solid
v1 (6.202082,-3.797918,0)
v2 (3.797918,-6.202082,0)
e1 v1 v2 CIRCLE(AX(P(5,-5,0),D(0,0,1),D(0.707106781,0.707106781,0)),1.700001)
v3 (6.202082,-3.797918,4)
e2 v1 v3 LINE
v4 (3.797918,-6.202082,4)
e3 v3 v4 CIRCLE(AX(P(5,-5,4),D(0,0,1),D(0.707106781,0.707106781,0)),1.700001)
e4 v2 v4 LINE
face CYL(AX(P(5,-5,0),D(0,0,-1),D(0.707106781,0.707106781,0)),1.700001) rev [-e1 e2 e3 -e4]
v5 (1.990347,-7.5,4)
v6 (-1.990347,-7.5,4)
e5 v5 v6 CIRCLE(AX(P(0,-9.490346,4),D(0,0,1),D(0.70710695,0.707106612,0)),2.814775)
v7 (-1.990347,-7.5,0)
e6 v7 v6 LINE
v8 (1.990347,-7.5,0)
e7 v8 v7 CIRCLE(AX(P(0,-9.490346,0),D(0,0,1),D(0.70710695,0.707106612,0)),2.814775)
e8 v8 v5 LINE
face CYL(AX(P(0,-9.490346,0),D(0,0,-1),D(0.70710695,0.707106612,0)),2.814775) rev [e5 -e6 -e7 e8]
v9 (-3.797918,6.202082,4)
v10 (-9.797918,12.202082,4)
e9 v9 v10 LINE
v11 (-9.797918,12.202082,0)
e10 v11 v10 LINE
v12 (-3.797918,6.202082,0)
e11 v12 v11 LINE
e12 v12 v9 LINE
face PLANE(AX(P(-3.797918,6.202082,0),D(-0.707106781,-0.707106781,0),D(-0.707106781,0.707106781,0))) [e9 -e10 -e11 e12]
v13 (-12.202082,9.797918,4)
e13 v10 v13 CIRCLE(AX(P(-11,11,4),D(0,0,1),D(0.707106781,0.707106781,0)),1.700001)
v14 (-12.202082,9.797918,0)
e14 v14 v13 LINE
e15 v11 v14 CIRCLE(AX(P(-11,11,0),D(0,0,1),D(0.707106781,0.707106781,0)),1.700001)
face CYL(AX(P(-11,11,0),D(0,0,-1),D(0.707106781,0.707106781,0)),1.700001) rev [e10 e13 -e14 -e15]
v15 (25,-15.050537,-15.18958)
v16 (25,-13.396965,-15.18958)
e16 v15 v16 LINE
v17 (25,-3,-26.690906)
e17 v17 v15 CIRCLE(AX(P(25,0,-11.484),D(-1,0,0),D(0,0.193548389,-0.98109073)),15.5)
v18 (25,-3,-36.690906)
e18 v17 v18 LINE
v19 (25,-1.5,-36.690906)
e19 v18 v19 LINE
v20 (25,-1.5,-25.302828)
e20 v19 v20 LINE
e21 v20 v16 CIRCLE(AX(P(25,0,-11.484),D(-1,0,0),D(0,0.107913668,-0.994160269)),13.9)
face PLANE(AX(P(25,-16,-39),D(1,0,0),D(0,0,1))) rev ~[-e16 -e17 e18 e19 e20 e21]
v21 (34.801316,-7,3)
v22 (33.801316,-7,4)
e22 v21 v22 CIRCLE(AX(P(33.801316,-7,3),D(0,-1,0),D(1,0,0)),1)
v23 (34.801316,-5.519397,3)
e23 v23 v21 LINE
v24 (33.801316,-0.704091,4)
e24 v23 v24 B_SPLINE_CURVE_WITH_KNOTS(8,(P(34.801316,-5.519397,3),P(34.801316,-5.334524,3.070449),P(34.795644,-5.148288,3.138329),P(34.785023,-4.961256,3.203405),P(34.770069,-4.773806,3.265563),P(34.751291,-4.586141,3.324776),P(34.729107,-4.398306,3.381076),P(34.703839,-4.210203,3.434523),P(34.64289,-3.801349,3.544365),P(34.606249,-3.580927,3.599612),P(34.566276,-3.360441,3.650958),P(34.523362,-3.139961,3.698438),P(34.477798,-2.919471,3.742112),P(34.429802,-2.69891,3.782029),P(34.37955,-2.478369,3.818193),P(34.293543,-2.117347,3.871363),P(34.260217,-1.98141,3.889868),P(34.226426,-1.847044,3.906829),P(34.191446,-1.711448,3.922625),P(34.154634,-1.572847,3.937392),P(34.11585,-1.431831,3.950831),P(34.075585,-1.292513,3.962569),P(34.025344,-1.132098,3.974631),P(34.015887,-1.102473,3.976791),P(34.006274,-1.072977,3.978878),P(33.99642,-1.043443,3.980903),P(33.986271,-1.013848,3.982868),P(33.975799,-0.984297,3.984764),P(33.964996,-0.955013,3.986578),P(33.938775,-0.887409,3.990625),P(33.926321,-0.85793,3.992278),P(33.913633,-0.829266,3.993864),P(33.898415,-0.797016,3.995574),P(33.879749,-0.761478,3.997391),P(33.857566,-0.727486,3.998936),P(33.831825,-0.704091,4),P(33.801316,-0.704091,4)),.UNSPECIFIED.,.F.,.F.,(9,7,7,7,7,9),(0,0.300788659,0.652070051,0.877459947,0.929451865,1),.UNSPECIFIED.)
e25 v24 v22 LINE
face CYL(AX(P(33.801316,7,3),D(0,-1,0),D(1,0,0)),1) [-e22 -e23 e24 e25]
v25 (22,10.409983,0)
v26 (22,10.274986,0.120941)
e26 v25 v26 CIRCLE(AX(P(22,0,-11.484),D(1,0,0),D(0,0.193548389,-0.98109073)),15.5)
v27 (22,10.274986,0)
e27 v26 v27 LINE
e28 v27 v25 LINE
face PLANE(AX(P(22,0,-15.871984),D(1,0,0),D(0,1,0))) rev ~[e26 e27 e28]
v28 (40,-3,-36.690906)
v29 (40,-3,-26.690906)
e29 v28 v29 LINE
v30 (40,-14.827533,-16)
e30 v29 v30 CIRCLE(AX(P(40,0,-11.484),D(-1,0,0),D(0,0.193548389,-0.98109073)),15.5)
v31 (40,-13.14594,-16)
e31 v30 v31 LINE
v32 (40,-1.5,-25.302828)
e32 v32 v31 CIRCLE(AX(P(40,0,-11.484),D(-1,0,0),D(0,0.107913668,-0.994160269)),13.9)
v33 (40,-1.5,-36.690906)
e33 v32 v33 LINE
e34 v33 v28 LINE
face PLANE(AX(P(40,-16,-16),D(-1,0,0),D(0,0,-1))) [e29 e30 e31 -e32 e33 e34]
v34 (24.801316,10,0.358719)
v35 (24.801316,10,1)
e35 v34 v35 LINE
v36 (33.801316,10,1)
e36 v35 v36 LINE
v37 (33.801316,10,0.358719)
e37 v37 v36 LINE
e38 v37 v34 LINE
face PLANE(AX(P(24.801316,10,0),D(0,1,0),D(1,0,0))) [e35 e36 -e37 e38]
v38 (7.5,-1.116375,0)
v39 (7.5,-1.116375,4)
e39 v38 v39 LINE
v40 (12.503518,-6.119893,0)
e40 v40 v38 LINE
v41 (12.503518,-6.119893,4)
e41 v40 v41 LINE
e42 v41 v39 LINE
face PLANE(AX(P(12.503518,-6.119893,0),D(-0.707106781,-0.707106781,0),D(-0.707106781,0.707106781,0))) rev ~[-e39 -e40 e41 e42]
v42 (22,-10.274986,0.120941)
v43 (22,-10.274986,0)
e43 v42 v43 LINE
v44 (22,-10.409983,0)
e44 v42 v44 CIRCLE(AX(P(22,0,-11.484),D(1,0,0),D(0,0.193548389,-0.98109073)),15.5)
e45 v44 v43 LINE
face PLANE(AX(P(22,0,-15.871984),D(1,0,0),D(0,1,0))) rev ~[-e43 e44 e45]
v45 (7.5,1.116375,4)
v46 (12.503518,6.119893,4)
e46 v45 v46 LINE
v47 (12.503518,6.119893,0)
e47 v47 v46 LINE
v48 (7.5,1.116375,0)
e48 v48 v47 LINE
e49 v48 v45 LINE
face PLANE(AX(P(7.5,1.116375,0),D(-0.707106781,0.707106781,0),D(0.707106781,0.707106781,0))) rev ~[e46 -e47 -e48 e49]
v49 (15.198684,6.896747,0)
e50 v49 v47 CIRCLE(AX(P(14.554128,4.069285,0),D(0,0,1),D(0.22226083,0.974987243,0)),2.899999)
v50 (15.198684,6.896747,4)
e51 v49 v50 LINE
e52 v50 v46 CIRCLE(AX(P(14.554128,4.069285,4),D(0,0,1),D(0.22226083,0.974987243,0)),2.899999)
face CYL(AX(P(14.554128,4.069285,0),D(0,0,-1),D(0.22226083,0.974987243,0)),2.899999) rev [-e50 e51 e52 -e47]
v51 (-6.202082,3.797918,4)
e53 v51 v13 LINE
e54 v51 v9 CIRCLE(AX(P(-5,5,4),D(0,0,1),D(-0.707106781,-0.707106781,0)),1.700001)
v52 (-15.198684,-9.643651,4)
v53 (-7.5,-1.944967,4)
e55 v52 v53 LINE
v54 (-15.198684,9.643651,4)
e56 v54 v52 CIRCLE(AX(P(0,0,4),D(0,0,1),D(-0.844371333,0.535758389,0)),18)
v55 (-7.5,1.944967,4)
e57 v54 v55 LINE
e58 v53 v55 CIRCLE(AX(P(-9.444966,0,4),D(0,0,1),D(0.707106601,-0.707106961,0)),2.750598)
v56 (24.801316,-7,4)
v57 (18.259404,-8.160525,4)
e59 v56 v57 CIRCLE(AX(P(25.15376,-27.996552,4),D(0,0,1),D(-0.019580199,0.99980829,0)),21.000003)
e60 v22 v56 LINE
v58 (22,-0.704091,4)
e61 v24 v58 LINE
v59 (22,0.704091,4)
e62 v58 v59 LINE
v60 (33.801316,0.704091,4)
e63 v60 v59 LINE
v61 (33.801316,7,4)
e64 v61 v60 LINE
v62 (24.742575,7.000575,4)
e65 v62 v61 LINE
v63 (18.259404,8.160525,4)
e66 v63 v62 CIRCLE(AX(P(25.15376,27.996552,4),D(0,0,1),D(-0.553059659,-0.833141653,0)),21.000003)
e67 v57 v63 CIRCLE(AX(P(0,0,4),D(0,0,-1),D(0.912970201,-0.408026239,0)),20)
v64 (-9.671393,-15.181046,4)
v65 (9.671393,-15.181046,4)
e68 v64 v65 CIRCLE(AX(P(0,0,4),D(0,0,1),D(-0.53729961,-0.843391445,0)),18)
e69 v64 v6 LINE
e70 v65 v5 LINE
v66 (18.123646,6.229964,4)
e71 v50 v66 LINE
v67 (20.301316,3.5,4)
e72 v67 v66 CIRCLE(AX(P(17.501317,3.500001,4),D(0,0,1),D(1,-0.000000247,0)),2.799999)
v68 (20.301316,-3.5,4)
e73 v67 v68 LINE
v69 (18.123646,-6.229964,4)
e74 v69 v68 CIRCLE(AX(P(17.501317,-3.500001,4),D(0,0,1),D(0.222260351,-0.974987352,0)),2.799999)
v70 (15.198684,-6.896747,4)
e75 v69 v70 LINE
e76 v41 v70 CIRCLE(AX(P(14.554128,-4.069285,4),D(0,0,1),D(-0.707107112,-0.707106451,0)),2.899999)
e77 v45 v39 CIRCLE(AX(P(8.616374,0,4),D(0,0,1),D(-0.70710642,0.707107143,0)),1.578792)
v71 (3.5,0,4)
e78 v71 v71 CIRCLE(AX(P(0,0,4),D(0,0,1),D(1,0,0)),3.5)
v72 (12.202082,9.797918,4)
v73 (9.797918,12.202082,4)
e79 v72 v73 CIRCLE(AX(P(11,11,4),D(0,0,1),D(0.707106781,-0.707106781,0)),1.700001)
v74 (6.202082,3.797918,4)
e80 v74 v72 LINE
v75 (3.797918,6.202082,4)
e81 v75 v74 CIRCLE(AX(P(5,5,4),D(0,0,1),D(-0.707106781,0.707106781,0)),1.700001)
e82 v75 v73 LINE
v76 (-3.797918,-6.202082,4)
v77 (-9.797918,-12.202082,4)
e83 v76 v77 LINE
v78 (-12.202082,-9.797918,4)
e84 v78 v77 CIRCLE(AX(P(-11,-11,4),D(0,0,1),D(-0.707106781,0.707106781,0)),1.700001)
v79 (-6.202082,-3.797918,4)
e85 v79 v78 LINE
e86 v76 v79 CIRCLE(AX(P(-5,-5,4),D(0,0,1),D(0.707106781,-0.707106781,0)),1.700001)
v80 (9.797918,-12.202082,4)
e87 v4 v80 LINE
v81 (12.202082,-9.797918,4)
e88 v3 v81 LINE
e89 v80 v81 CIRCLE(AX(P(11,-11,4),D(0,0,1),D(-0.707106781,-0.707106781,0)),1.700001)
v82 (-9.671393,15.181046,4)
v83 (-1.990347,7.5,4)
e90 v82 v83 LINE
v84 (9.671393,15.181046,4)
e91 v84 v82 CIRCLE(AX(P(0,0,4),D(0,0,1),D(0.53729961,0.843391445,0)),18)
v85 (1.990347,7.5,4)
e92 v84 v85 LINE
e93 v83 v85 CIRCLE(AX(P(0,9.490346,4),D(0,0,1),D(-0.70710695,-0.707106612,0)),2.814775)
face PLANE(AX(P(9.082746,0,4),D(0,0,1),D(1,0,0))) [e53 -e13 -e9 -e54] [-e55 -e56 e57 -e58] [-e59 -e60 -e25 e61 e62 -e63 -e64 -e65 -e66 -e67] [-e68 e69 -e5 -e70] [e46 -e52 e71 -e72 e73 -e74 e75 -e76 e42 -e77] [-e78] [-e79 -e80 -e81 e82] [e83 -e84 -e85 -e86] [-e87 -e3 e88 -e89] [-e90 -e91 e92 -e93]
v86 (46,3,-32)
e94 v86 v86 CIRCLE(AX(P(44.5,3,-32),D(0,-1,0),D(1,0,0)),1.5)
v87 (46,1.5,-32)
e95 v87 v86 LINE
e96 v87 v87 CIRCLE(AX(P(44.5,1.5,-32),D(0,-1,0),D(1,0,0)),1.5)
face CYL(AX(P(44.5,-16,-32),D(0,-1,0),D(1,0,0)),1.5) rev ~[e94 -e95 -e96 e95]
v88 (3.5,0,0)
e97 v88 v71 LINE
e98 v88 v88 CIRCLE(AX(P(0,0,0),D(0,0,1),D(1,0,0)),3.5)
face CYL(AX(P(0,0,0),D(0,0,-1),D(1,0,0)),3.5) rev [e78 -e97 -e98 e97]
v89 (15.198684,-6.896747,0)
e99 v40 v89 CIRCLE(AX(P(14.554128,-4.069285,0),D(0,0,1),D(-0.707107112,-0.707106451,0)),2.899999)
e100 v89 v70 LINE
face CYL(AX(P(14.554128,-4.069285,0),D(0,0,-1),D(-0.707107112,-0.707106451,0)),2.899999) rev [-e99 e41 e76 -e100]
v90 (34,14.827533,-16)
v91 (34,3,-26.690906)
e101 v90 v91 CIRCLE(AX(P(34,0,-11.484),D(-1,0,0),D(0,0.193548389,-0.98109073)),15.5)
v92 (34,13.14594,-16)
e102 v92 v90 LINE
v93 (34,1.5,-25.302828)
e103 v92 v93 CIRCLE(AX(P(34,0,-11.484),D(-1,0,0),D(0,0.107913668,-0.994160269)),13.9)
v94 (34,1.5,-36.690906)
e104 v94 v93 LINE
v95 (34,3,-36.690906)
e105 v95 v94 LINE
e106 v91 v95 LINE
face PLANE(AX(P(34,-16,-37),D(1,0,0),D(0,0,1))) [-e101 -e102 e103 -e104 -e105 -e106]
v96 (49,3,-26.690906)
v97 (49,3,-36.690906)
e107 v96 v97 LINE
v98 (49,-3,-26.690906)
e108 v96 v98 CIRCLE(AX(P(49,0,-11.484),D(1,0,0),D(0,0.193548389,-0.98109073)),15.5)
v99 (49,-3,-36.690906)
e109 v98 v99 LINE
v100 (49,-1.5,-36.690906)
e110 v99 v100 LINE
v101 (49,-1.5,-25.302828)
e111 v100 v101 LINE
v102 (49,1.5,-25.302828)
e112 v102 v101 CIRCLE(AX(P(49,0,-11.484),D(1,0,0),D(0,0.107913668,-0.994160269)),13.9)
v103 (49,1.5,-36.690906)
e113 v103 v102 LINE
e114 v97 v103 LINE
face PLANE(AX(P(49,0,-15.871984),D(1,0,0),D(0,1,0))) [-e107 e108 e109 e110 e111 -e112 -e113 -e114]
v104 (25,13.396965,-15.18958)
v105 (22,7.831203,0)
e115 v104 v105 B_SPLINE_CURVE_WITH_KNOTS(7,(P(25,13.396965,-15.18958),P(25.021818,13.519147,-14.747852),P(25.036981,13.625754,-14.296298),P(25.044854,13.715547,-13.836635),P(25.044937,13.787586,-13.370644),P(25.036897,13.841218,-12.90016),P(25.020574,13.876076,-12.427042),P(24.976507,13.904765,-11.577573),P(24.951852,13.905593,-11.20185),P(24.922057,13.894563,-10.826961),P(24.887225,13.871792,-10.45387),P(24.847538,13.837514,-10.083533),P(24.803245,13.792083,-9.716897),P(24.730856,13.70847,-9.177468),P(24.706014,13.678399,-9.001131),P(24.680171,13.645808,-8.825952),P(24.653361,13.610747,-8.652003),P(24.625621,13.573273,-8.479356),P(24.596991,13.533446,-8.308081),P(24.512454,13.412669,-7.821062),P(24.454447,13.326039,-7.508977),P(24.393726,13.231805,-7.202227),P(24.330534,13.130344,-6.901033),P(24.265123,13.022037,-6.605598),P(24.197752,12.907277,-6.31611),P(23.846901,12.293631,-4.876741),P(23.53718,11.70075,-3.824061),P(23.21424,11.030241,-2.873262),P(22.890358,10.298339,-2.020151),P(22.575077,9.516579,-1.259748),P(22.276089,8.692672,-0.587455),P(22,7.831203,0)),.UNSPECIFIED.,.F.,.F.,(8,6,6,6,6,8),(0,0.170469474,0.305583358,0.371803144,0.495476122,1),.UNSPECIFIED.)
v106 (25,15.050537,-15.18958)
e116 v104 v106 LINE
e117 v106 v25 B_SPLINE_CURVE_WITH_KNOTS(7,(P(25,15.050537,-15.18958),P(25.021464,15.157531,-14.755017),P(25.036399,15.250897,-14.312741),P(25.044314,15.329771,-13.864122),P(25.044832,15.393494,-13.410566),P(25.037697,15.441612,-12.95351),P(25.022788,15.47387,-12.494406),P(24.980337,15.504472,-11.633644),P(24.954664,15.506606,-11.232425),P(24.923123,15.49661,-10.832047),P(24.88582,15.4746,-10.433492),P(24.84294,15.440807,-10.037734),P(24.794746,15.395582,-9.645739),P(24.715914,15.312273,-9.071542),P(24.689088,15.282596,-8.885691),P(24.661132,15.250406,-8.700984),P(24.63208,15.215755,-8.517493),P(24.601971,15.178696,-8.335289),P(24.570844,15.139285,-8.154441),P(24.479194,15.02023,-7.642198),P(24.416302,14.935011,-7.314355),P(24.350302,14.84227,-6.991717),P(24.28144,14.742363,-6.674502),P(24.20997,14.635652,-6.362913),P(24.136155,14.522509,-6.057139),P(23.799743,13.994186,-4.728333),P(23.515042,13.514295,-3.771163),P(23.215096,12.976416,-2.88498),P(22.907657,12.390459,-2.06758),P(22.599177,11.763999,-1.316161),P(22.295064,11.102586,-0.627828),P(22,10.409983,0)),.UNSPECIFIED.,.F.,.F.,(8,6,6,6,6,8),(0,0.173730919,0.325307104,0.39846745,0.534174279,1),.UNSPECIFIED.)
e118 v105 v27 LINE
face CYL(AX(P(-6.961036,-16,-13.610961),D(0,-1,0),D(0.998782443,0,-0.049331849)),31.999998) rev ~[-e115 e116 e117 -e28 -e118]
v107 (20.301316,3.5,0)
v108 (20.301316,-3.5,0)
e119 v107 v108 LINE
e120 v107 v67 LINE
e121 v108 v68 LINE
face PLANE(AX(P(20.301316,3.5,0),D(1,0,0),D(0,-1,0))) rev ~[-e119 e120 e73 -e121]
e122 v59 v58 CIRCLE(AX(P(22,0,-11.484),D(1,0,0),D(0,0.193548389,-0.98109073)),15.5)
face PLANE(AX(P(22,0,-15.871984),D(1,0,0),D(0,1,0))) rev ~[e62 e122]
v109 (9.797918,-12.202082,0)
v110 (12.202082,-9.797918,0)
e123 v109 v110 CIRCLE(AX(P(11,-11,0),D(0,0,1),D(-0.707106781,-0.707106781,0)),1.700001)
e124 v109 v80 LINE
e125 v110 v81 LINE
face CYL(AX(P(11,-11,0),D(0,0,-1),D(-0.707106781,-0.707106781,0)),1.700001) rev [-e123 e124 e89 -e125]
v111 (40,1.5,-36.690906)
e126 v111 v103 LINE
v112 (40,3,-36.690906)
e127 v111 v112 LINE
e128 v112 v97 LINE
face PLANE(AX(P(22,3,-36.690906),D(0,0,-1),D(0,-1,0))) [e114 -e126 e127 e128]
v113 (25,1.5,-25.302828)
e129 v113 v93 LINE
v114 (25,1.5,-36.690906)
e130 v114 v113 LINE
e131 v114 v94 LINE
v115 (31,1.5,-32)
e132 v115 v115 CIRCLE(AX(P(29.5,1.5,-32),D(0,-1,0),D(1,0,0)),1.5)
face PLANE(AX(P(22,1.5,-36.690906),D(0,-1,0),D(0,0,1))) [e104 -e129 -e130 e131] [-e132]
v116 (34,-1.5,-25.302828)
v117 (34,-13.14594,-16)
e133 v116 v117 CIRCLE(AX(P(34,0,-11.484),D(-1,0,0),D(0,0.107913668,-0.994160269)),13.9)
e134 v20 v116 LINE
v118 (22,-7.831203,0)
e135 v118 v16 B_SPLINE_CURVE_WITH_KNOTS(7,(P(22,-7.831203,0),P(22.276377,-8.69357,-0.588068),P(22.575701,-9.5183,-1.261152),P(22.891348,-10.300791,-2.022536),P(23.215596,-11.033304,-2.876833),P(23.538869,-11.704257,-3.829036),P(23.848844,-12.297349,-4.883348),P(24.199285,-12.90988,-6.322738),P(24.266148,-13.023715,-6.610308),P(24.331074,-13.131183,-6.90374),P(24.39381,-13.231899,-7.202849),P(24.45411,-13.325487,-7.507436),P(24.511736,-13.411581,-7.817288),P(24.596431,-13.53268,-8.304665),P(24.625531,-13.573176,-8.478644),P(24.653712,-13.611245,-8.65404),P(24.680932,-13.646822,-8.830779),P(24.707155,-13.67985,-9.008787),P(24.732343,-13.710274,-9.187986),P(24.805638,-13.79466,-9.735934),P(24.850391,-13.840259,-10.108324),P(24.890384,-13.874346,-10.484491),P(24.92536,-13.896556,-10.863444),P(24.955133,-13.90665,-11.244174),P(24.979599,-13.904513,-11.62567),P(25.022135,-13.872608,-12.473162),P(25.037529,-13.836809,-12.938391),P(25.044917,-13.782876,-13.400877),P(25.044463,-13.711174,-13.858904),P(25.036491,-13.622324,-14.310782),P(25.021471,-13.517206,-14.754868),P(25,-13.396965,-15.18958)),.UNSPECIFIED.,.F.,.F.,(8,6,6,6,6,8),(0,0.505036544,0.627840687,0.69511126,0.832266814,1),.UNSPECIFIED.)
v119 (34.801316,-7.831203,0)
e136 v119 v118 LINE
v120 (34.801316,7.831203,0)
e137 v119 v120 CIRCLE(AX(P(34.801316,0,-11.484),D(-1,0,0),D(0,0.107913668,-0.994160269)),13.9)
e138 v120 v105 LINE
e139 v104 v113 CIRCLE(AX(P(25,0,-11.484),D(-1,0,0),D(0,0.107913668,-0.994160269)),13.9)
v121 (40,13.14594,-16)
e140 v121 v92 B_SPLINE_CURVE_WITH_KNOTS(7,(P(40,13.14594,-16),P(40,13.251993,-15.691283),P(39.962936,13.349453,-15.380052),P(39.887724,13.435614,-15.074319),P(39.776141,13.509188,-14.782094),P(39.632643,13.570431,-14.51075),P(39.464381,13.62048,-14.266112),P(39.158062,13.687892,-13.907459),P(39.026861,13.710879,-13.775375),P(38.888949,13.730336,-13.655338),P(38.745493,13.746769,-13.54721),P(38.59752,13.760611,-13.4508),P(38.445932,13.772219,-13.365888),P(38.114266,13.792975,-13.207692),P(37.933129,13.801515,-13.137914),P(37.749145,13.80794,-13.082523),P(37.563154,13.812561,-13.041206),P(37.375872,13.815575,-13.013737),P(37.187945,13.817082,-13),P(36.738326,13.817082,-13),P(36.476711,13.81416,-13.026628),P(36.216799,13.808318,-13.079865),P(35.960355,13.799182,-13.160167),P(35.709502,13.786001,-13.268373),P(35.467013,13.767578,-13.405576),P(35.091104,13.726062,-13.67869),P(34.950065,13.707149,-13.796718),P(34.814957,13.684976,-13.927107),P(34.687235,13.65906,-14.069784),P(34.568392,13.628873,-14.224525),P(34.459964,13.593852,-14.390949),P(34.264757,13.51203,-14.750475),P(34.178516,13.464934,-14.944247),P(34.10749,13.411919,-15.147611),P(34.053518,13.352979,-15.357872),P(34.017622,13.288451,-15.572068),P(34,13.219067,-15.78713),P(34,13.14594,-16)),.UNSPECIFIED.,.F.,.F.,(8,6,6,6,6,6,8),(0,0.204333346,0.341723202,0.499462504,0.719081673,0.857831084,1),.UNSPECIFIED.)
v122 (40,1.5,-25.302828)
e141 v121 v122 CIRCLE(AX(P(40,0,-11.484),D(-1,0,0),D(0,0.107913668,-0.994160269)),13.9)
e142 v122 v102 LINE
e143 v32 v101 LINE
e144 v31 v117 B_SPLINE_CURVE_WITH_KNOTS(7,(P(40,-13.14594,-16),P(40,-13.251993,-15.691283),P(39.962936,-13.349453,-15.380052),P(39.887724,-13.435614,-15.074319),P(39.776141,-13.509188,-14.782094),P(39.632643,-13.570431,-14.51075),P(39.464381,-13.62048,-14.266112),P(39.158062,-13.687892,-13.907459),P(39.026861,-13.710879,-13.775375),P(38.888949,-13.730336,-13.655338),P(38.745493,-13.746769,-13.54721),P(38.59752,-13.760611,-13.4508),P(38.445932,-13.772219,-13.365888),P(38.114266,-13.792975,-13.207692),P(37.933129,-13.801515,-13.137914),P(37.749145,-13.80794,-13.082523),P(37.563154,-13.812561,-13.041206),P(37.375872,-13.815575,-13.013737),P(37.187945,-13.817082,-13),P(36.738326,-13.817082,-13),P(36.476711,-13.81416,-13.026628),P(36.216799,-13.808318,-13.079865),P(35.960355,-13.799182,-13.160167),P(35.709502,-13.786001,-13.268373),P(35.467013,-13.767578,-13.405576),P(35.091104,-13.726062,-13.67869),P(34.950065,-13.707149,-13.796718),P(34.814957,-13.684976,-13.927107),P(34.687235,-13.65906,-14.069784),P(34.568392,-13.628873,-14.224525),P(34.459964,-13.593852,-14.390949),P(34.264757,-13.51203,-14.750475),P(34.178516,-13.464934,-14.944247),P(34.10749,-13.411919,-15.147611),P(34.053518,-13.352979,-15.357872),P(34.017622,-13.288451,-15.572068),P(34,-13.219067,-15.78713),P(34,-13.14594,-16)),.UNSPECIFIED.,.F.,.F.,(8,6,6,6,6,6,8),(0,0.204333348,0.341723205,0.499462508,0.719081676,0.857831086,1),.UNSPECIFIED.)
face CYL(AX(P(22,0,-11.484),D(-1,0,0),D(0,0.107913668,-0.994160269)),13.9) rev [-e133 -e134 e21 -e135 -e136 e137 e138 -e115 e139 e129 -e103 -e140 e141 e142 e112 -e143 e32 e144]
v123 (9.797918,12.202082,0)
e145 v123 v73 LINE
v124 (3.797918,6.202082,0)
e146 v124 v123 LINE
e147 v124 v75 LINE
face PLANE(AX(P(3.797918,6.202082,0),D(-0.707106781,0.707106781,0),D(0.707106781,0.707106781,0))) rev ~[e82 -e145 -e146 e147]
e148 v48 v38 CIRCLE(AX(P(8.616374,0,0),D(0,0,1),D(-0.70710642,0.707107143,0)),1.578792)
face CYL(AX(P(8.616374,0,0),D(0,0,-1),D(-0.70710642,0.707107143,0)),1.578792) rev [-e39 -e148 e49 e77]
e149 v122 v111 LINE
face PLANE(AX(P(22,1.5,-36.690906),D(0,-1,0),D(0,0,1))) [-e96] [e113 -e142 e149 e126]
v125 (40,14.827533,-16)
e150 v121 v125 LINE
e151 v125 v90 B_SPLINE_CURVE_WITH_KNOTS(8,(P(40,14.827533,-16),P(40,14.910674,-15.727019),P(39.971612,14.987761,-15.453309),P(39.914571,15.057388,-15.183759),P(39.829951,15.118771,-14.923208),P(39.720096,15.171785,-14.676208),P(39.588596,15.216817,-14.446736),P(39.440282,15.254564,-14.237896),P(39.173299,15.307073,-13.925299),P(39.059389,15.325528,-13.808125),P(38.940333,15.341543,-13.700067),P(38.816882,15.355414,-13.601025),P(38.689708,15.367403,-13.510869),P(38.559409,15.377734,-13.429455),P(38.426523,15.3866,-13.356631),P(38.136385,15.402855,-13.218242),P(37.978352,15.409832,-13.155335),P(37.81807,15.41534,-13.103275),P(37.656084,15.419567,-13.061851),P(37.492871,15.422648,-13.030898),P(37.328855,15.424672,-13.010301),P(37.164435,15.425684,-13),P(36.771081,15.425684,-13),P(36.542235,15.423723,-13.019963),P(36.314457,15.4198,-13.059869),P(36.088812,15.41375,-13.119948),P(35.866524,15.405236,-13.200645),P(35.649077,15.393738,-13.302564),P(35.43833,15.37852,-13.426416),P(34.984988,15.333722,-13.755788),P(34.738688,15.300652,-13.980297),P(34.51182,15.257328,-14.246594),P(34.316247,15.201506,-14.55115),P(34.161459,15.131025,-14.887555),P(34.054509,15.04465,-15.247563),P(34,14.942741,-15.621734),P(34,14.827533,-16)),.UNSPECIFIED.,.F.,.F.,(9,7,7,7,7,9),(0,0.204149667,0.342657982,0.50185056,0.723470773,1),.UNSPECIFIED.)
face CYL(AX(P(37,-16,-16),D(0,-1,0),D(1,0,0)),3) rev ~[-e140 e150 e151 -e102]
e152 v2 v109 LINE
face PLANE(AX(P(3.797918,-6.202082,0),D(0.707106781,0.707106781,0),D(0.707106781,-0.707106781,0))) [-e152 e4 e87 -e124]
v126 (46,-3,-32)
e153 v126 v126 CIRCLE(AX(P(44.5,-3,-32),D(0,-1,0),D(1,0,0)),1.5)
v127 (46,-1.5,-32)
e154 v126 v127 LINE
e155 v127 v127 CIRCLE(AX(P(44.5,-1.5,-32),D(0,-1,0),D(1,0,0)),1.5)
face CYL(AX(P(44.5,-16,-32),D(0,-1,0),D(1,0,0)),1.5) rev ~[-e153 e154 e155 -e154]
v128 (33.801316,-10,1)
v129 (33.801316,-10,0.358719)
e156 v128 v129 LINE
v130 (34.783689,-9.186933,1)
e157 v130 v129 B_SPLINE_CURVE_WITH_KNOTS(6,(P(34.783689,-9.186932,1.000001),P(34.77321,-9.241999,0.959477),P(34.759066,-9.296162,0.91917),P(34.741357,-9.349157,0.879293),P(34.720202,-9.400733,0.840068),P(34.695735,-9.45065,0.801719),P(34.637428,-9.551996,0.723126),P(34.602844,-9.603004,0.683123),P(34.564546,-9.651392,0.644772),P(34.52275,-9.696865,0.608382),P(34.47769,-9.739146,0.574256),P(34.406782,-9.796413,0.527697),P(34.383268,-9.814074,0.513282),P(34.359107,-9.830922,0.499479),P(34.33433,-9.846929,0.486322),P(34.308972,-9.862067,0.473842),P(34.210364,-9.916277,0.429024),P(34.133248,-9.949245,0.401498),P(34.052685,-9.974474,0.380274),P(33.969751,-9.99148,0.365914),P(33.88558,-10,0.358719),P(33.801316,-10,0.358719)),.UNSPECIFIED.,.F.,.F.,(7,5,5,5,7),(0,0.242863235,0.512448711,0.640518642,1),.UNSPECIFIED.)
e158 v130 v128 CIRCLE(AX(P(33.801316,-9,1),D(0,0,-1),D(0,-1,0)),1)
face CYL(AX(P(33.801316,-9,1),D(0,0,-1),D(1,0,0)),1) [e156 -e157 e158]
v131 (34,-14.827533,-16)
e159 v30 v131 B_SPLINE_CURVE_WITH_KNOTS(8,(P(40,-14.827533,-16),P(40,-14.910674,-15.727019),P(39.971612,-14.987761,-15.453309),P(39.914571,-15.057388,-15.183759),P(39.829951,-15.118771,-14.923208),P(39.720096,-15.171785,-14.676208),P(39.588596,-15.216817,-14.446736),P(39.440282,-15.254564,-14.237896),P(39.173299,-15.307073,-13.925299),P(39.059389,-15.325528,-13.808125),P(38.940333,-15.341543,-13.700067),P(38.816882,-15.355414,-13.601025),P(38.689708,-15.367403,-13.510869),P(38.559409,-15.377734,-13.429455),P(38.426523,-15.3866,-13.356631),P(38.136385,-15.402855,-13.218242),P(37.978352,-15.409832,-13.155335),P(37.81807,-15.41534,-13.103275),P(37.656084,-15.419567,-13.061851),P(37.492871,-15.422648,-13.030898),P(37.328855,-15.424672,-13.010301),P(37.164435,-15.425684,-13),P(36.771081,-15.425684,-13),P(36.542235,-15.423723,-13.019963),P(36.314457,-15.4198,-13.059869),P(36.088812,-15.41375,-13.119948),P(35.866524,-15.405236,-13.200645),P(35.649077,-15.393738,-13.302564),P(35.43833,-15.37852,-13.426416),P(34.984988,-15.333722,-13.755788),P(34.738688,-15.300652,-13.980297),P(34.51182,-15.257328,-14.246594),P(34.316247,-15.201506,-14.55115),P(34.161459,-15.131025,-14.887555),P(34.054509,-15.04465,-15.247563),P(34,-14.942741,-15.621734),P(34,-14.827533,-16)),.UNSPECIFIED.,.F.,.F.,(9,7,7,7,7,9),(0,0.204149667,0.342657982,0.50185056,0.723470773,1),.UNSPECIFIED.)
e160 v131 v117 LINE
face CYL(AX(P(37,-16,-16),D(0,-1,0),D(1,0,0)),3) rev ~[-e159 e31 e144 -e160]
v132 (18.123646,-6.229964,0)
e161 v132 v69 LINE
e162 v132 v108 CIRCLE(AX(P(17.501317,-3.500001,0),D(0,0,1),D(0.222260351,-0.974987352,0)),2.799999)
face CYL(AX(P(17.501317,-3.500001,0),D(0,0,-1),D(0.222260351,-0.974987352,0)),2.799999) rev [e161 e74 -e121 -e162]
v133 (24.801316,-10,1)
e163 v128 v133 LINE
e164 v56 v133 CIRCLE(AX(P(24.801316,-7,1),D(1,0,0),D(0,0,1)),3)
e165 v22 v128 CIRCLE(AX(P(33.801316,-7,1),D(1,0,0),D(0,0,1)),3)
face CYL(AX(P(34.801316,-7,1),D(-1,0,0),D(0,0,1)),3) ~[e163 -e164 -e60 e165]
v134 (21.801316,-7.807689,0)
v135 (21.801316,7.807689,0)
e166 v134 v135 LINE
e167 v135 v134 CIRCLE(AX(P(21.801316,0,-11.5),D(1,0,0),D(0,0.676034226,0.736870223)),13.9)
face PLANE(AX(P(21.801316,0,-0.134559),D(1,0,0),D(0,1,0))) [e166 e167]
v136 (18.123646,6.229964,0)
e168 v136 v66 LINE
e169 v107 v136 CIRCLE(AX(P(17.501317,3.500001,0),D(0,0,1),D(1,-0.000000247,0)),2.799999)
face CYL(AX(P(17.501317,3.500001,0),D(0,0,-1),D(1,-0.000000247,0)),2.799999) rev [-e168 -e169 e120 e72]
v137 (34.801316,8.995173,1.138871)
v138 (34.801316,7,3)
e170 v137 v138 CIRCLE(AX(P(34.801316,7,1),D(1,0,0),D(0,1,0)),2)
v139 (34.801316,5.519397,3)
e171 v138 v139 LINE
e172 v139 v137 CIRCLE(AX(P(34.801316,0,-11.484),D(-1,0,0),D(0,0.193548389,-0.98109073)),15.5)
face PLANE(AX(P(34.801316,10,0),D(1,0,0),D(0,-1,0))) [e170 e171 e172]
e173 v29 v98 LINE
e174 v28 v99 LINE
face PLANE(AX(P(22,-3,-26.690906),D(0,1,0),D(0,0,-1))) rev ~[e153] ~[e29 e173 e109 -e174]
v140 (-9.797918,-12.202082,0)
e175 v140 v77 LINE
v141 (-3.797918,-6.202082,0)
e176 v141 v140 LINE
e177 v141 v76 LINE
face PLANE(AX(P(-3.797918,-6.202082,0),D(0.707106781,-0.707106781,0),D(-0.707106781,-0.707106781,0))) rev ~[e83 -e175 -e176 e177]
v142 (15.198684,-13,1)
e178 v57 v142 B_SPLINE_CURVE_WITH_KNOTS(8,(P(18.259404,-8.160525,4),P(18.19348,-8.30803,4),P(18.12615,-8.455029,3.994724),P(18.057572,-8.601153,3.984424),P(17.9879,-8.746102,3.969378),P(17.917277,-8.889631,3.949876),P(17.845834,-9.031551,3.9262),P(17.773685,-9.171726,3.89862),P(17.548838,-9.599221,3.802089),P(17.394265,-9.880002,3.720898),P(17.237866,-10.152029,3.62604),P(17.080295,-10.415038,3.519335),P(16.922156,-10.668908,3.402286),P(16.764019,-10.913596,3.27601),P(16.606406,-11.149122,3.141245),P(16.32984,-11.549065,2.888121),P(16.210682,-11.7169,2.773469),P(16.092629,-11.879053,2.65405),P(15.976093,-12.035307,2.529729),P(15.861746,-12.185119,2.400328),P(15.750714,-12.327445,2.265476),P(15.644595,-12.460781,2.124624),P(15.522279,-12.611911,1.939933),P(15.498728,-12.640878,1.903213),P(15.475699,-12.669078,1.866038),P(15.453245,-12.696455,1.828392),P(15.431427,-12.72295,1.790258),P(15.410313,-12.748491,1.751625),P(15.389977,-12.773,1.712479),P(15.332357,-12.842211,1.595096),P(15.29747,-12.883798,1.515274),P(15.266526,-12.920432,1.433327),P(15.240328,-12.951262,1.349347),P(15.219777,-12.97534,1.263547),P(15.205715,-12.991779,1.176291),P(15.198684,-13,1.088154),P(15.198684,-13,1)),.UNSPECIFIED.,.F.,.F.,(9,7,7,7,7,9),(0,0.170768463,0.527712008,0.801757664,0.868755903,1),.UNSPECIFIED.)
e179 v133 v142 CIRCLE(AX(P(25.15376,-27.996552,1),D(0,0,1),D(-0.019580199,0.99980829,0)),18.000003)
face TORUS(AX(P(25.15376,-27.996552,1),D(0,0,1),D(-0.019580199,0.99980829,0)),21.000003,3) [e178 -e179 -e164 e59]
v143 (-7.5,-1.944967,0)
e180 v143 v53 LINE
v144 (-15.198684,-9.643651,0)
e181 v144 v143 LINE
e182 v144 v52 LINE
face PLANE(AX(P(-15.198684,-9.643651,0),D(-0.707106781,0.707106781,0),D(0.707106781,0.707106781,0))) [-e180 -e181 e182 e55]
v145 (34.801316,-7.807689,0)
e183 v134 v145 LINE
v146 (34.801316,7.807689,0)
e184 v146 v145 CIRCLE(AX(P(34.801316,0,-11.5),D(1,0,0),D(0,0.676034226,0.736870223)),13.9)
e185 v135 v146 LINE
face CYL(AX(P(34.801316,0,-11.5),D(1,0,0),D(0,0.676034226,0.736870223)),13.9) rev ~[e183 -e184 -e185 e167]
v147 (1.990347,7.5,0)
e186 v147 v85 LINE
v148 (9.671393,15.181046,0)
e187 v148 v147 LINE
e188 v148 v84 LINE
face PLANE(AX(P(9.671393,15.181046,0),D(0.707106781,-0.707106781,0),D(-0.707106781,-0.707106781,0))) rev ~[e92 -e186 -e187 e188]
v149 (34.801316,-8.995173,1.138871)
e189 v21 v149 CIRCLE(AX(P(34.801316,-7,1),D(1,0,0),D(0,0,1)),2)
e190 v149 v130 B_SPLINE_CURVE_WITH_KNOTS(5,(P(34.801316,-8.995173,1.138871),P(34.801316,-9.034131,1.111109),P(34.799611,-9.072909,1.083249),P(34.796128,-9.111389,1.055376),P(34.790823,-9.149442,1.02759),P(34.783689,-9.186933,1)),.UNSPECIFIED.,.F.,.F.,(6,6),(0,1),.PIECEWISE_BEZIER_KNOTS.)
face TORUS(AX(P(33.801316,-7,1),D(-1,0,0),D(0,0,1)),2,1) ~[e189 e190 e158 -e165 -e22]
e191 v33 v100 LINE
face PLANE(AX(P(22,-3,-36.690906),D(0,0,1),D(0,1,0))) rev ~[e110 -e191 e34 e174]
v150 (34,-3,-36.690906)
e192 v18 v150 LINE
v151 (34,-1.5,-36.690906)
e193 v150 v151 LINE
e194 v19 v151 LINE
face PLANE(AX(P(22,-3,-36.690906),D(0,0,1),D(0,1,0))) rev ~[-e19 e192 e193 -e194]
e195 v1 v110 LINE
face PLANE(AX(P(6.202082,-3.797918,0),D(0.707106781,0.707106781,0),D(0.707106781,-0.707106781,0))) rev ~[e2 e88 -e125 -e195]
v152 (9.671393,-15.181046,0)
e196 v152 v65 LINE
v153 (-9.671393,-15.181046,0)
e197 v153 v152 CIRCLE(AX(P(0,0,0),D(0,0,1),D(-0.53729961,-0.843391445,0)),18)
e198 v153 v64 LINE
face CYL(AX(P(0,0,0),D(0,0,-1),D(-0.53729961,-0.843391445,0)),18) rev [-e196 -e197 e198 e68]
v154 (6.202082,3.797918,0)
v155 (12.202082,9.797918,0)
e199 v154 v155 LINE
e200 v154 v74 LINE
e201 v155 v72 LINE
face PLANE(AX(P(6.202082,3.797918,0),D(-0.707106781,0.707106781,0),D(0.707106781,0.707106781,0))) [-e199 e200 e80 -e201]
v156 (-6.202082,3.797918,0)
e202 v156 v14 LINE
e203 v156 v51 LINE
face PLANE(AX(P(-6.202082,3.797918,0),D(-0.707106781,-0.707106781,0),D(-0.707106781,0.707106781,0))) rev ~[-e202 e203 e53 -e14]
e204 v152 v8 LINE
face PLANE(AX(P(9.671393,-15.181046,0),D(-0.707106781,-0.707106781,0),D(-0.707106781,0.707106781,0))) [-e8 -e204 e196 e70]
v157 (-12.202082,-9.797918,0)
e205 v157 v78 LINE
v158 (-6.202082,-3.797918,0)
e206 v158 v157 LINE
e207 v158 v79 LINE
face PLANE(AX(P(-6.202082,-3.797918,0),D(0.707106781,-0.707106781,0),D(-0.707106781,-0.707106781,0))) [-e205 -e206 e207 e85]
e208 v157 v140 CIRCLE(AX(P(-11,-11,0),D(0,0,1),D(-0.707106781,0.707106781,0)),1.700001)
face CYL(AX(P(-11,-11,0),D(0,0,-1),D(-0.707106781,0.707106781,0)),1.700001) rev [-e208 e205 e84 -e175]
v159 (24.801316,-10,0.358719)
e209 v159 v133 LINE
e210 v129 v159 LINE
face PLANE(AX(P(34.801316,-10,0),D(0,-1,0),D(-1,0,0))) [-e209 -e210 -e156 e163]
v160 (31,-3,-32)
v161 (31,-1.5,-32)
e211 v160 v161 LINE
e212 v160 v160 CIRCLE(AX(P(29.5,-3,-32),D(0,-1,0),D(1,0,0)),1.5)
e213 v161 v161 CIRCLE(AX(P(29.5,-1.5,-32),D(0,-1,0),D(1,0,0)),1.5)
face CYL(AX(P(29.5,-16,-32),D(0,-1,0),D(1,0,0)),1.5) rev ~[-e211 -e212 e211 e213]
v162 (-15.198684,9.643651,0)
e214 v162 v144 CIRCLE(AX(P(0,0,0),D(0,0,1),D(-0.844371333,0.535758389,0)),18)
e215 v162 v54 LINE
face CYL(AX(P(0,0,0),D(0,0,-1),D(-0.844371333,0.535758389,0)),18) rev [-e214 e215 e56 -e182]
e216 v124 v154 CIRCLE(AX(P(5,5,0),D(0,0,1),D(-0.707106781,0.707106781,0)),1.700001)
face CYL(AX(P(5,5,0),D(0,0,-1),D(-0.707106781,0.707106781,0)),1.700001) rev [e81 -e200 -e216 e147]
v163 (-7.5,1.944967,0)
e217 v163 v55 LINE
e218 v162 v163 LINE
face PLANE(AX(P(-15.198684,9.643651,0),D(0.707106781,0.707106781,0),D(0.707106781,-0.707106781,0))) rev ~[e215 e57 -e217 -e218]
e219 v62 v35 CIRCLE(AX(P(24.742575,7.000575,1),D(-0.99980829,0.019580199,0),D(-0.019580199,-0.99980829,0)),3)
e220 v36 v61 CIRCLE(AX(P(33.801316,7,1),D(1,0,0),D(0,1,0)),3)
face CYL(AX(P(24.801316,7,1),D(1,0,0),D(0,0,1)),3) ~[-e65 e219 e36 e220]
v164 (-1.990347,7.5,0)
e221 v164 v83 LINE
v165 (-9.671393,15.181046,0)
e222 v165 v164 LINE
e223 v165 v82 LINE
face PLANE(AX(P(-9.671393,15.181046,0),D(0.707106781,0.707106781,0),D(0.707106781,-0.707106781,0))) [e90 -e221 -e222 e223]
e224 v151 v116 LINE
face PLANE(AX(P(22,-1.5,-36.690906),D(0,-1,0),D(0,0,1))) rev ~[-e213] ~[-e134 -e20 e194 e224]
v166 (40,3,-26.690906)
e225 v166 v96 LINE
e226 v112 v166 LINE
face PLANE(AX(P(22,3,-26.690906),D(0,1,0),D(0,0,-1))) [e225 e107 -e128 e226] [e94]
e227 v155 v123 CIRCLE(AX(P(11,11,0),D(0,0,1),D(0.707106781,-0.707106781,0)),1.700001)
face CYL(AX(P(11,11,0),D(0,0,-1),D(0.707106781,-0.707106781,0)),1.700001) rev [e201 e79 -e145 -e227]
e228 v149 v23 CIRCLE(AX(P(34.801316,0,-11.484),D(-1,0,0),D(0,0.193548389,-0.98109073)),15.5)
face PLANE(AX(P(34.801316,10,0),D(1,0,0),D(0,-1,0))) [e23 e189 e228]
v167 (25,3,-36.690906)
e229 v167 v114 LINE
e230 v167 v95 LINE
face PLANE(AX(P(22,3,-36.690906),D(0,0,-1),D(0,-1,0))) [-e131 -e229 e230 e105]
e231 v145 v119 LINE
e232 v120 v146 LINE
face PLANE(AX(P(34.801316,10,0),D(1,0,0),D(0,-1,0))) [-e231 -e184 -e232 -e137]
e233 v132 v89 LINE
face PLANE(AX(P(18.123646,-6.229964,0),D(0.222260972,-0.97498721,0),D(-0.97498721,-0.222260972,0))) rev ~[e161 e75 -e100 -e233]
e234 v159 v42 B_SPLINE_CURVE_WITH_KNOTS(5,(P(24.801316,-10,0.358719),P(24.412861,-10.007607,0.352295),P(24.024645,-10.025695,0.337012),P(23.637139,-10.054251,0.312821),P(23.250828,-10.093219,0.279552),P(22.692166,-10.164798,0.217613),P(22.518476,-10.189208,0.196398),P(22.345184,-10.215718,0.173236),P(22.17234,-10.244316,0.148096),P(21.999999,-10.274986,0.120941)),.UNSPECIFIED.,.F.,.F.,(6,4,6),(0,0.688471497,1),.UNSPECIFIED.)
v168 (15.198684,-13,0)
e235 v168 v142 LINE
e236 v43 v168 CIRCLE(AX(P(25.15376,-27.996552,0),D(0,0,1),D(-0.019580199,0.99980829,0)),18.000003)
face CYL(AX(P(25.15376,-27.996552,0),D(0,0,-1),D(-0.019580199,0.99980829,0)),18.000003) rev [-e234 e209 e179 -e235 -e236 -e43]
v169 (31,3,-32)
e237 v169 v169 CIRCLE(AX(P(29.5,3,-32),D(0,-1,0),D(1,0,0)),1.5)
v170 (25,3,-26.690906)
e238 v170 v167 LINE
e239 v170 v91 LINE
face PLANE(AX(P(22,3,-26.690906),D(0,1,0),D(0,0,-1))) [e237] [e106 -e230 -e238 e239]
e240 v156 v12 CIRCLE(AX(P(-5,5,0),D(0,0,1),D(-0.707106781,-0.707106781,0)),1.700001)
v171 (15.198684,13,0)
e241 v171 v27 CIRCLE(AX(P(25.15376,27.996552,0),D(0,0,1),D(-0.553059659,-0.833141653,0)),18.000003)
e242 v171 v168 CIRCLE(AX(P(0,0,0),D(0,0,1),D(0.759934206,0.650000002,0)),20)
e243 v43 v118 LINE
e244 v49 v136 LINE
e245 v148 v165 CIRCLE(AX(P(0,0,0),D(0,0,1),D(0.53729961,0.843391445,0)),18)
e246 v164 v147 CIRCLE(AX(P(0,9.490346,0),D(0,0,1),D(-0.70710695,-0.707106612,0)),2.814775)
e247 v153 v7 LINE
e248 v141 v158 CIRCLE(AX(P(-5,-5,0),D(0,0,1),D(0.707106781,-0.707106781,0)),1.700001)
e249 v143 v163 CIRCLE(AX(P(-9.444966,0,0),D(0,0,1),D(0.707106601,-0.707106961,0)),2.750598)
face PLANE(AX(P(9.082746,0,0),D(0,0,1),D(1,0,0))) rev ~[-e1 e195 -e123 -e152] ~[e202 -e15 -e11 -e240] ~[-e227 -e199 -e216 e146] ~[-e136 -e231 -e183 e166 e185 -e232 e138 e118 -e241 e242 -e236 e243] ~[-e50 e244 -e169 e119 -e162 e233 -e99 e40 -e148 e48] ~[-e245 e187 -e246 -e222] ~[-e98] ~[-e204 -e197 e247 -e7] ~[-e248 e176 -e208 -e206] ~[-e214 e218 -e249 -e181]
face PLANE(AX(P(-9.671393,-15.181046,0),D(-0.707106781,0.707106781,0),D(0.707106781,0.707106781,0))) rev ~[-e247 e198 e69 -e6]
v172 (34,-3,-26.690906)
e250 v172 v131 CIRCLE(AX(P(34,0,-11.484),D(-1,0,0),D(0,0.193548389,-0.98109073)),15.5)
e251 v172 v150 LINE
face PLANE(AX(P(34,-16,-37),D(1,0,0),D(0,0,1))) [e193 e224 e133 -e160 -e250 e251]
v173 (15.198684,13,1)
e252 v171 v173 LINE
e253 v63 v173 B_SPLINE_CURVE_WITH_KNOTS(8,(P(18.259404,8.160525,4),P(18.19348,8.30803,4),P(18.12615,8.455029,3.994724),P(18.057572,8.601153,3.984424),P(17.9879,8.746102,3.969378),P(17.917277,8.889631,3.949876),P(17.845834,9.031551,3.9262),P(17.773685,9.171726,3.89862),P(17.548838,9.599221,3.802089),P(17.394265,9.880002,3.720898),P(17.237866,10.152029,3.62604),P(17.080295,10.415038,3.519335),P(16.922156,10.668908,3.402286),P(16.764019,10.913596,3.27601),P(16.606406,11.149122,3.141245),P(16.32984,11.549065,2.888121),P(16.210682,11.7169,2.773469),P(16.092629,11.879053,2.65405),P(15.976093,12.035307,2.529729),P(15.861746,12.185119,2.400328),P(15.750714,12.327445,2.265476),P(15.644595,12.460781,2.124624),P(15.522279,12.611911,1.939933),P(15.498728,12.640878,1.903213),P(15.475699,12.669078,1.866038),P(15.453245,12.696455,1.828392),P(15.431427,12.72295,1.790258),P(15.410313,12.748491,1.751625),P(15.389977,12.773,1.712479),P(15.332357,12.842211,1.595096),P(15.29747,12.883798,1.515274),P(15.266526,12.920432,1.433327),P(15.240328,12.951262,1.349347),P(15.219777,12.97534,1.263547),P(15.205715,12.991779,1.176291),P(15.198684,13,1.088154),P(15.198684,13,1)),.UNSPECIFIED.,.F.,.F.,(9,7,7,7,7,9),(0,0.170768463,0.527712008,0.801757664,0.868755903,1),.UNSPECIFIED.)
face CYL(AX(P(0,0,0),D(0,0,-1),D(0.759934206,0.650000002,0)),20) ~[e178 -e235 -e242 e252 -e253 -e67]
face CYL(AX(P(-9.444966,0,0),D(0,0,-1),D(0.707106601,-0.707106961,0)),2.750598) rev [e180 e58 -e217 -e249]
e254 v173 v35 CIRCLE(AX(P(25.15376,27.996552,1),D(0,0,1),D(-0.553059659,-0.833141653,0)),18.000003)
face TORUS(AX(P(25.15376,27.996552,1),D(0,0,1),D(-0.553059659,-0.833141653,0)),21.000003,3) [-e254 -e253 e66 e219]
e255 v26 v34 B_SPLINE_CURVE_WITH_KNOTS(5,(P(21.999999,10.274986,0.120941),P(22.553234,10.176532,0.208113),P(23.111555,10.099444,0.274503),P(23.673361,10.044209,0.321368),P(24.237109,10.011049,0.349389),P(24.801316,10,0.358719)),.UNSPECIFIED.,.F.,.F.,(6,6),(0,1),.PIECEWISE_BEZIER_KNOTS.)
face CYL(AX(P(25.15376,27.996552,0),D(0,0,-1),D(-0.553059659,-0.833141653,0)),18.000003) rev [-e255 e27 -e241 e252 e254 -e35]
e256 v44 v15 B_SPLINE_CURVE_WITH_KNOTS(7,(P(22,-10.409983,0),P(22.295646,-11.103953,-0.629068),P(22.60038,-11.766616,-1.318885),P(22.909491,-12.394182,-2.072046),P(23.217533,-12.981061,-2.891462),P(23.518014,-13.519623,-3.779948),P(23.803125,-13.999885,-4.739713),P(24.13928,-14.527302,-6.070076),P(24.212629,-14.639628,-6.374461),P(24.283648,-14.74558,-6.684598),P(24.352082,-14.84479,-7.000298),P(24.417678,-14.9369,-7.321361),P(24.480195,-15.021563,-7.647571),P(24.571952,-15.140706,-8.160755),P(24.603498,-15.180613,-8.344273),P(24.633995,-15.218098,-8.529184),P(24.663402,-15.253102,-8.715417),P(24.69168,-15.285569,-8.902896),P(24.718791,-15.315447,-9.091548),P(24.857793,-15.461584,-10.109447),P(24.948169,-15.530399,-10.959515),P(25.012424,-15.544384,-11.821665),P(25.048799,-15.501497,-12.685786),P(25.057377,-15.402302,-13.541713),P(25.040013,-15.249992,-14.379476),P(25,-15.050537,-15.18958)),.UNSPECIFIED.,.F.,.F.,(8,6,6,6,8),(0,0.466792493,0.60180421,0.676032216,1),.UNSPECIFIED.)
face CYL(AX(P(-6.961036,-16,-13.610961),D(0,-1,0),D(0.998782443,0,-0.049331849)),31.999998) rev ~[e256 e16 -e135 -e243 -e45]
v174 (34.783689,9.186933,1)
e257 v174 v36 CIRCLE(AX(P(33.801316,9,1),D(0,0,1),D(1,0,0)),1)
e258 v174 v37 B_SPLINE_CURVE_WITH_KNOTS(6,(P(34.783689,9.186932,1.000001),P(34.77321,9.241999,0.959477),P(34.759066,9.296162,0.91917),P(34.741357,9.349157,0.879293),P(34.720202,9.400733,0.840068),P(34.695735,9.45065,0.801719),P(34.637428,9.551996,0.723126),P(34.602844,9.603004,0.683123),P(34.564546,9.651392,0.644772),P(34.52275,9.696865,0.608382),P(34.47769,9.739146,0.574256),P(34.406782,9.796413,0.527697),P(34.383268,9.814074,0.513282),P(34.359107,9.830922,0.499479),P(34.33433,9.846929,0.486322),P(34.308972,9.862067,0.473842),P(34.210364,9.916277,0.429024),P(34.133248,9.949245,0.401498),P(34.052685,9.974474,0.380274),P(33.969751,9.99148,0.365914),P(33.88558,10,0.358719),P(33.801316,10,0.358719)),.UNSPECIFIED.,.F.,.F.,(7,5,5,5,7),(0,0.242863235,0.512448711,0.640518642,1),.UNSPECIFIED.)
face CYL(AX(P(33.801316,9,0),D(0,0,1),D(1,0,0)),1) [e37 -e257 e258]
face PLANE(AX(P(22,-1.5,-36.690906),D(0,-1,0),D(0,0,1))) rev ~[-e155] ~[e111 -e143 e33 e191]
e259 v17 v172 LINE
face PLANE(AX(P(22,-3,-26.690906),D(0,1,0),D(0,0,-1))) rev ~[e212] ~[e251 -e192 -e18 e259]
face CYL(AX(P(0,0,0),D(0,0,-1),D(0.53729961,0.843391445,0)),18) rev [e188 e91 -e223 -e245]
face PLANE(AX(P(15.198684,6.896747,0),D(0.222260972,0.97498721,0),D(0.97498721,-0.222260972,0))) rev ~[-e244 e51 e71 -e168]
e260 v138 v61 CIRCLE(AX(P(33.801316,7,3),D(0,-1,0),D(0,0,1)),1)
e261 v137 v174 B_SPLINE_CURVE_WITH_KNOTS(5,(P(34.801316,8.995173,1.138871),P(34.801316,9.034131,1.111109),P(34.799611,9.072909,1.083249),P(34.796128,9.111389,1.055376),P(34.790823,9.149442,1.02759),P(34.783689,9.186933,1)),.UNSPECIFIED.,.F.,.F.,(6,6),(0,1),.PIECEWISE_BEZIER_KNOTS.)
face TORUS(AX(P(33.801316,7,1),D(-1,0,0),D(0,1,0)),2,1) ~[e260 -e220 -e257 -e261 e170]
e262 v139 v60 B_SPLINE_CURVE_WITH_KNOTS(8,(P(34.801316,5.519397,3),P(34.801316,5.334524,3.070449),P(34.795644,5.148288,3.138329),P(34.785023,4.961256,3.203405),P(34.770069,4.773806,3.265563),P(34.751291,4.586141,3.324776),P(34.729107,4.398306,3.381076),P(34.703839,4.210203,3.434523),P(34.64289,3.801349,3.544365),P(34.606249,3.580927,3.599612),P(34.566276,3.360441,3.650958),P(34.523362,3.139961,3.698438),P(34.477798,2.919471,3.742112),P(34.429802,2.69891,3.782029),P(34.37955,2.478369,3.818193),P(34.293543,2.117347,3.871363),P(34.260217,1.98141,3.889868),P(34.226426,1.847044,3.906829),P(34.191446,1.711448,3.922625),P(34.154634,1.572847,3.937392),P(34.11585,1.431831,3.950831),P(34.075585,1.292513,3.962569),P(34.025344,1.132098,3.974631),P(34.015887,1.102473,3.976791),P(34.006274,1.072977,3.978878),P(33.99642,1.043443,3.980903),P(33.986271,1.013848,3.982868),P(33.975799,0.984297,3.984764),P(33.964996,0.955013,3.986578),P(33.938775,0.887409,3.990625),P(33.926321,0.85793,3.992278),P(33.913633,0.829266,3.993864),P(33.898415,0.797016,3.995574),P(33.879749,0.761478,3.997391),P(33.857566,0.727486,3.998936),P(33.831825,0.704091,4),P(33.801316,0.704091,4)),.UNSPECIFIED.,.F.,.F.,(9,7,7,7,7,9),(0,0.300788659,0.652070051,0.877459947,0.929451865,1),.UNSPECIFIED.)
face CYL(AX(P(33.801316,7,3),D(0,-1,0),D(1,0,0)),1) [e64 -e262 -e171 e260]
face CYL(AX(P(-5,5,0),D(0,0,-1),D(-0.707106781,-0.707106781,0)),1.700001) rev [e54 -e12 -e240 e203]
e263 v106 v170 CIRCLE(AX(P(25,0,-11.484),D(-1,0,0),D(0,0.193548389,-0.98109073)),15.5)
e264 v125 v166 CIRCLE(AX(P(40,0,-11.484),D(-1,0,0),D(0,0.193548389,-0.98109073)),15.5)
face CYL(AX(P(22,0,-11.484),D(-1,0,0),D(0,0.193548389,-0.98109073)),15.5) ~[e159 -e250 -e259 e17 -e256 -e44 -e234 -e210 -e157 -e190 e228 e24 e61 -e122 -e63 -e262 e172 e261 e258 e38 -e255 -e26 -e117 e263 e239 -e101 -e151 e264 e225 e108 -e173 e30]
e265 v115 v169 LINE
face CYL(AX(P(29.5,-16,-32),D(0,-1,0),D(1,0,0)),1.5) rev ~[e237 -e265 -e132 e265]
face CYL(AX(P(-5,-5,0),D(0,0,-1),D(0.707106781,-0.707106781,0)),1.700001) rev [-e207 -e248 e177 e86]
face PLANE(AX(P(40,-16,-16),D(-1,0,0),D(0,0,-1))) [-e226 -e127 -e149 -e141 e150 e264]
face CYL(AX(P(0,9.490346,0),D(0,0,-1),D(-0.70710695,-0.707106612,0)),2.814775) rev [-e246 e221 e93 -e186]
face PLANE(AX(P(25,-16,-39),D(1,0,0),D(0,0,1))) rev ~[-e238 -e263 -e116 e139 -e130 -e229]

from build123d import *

# Parameters (mm, degrees)
SKETCH003_AS_DRAWN_R                 = 1.5
EXTRUDE005_DEPTH                     = 32
EXTRUDE005_ONTO_SKETCH003_ROLL_ANGLE = 90
EXTRUDE002_DEPTH                     = 27
EXTRUDE003_DEPTH                     = 13
SKETCH_R                             = 3.5
EXTRUDE_DEPTH                        = 4
FILLET_R                             = 3
FILLET001_R                          = 1


with BuildPart() as bracket_cut_extrude:
    # Sketch003 as drawn → Extrude005 (new)
    with BuildSketch(Plane.XY):
        with Locations((29.5, -32)):
            Circle(SKETCH003_AS_DRAWN_R)
        with Locations((44.5, -32)):
            Circle(SKETCH003_AS_DRAWN_R)
        with BuildLine():
            Line((34, -37), (34, -16))
            ThreePointArc((40, -16), (37, -13), (34, -16))
            Line((40, -16), (40, -37))
            Line((34, -37), (40, -37))
        make_face()
        with BuildLine():
            Line((18.5, 0), (18.5, -39))
            Line((18.5, -39), (25, -39))
            Line((25, -39), (25, -15.18958))
            ThreePointArc((25, -15.18958), (24.432523, -7.410613), (22, 0))
            Line((18.5, 0), (22, 0))
        make_face()
    extrude(amount=-EXTRUDE005_DEPTH)


with BuildPart() as bracket_cut_extrude_1:
    # Extrude005 onto Sketch003 roll: moved
    add(bracket_cut_extrude.part.rotate(Axis((0, 0, 0), (1, 0, 0)), EXTRUDE005_ONTO_SKETCH003_ROLL_ANGLE))


with BuildPart() as bracket_cut_extrude_2:
    # Extrude005 onto Sketch003 placement: moved
    add(bracket_cut_extrude_1.part.moved(Location((0, -16, 0))))


with BuildPart() as bracket_cut:
    # Sketch001 → Extrude002 (new body)
    with BuildSketch(Plane.YZ.offset(25)):
        with BuildLine():
            ThreePointArc((3, -26.690906), (0, 4.016), (-3, -26.690906))
            Line((-3, -26.690906), (-3, -36.690906))
            Line((-3, -36.690906), (-1.5, -36.690906))
            Line((-1.5, -36.690906), (-1.5, -25.302828))
            ThreePointArc((1.5, -25.302828), (0, 2.416), (-1.5, -25.302828))
            Line((1.5, -36.690906), (1.5, -25.302828))
            Line((3, -36.690906), (1.5, -36.690906))
            Line((3, -26.690906), (3, -36.690906))
        make_face()
    extrude(amount=EXTRUDE002_DEPTH)


with BuildPart() as bracket_cut_1:
    # Extrude002 placement: moved
    add(bracket_cut.part.moved(Location((-3, 0, 0))))

    # Cut001: cut Bracket_Cut_Extrude
    add(bracket_cut_extrude_2.part, mode=Mode.SUBTRACT)


with BuildPart() as cutout_extrude:
    # Sketch002 → Extrude003 (new body)
    with BuildSketch(Plane.YZ.offset(34.801316)):
        with BuildLine():
            ThreePointArc((9.396876, -1.257504), (0, 2.4), (-9.396876, -1.257504))
            Line((-9.396876, -1.257504), (9.396876, -1.257504))
        make_face()
    extrude(amount=-EXTRUDE003_DEPTH)


with BuildPart() as fusion:
    # Sketch → Extrude (new body)
    with BuildSketch(Plane.XY):
        with BuildLine():
            ThreePointArc((15.198684, 13), (-20, 0), (15.198684, -13))
            ThreePointArc((24.801316, -10), (19.786149, -10.815491), (15.198684, -13))
            Line((34.801316, -10), (24.801316, -10))
            Line((34.801316, 10), (34.801316, -10))
            Line((24.801316, 10), (34.801316, 10))
            ThreePointArc((15.198684, 13), (19.786149, 10.815491), (24.801316, 10))
        make_face()
        Circle(SKETCH_R, mode=Mode.SUBTRACT)
        with BuildLine():
            ThreePointArc((3.797918, 6.202082), (3.797918, 3.797918), (6.202082, 3.797918))
            Line((6.202082, 3.797918), (12.202082, 9.797918))
            ThreePointArc((12.202082, 9.797918), (12.202082, 12.202082), (9.797918, 12.202082))
            Line((3.797918, 6.202082), (9.797918, 12.202082))
        make_face(mode=Mode.SUBTRACT)
        with BuildLine():
            ThreePointArc((-6.202082, 3.797918), (-3.797918, 3.797918), (-3.797918, 6.202082))
            Line((-3.797918, 6.202082), (-9.797918, 12.202082))
            ThreePointArc((-9.797918, 12.202082), (-12.202082, 12.202082), (-12.202082, 9.797918))
            Line((-6.202082, 3.797918), (-12.202082, 9.797918))
        make_face(mode=Mode.SUBTRACT)
        with BuildLine():
            ThreePointArc((-3.797918, -6.202082), (-3.797918, -3.797918), (-6.202082, -3.797918))
            Line((-6.202082, -3.797918), (-12.202082, -9.797918))
            ThreePointArc((-12.202082, -9.797918), (-12.202082, -12.202082), (-9.797918, -12.202082))
            Line((-3.797918, -6.202082), (-9.797918, -12.202082))
        make_face(mode=Mode.SUBTRACT)
        with BuildLine():
            ThreePointArc((6.202082, -3.797918), (3.797918, -3.797918), (3.797918, -6.202082))
            Line((3.797918, -6.202082), (9.797918, -12.202082))
            ThreePointArc((9.797918, -12.202082), (12.202082, -12.202082), (12.202082, -9.797918))
            Line((6.202082, -3.797918), (12.202082, -9.797918))
        make_face(mode=Mode.SUBTRACT)
        with BuildLine():
            Line((-15.198684, 9.643651), (-7.5, 1.944967))
            ThreePointArc((-7.5, -1.944967), (-6.694368, 0), (-7.5, 1.944967))
            Line((-15.198684, -9.643651), (-7.5, -1.944967))
            ThreePointArc((-15.198684, 9.643651), (-18, 0), (-15.198684, -9.643651))
        make_face(mode=Mode.SUBTRACT)
        with BuildLine():
            ThreePointArc((-9.671393, -15.181046), (0, -18), (9.671393, -15.181046))
            Line((9.671393, -15.181046), (1.990347, -7.5))
            ThreePointArc((1.990347, -7.5), (0, -6.675571), (-1.990347, -7.5))
            Line((-9.671393, -15.181046), (-1.990347, -7.5))
        make_face(mode=Mode.SUBTRACT)
        with BuildLine():
            ThreePointArc((9.671393, 15.181046), (0, 18), (-9.671393, 15.181046))
            Line((-9.671393, 15.181046), (-1.990347, 7.5))
            ThreePointArc((-1.990347, 7.5), (0, 6.675571), (1.990347, 7.5))
            Line((9.671393, 15.181046), (1.990347, 7.5))
        make_face(mode=Mode.SUBTRACT)
        with BuildLine():
            Line((7.5, 1.116375), (12.503518, 6.119893))
            ThreePointArc((15.198684, 6.896747), (13.750933, 6.855837), (12.503518, 6.119893))
            Line((15.198684, 6.896747), (18.123646, 6.229964))
            ThreePointArc((20.301316, 3.5), (19.690211, 5.246064), (18.123646, 6.229964))
            Line((20.301316, 3.5), (20.301316, -3.5))
            ThreePointArc((18.123646, -6.229964), (19.690211, -5.246064), (20.301316, -3.5))
            Line((18.123646, -6.229964), (15.198684, -6.896747))
            ThreePointArc((12.503518, -6.119893), (13.750933, -6.855837), (15.198684, -6.896747))
            Line((12.503518, -6.119893), (7.5, -1.116375))
            ThreePointArc((7.5, 1.116375), (7.037582, 0), (7.5, -1.116375))
        make_face(mode=Mode.SUBTRACT)
    extrude(amount=EXTRUDE_DEPTH)

    # Cut: cut Cutout_Extrude
    add(cutout_extrude.part, mode=Mode.SUBTRACT)

    # Fillet
    fillet_edges = [fusion.edges().sort_by_distance(p)[0] for p in [
        (29.801316, -10, 4),
        (29.801316, 10, 4),
    ]]
    fillet(fillet_edges, radius=FILLET_R)

    # Fillet001
    fillet001_edges = [fusion.edges().sort_by_distance(p)[0] for p in [
        (34.801316, 0, 4),
    ]]
    fillet(fillet001_edges, radius=FILLET001_R)

    # Fusion: union Bracket_Cut
    add(bracket_cut_1.part)


solid = fusion.part
